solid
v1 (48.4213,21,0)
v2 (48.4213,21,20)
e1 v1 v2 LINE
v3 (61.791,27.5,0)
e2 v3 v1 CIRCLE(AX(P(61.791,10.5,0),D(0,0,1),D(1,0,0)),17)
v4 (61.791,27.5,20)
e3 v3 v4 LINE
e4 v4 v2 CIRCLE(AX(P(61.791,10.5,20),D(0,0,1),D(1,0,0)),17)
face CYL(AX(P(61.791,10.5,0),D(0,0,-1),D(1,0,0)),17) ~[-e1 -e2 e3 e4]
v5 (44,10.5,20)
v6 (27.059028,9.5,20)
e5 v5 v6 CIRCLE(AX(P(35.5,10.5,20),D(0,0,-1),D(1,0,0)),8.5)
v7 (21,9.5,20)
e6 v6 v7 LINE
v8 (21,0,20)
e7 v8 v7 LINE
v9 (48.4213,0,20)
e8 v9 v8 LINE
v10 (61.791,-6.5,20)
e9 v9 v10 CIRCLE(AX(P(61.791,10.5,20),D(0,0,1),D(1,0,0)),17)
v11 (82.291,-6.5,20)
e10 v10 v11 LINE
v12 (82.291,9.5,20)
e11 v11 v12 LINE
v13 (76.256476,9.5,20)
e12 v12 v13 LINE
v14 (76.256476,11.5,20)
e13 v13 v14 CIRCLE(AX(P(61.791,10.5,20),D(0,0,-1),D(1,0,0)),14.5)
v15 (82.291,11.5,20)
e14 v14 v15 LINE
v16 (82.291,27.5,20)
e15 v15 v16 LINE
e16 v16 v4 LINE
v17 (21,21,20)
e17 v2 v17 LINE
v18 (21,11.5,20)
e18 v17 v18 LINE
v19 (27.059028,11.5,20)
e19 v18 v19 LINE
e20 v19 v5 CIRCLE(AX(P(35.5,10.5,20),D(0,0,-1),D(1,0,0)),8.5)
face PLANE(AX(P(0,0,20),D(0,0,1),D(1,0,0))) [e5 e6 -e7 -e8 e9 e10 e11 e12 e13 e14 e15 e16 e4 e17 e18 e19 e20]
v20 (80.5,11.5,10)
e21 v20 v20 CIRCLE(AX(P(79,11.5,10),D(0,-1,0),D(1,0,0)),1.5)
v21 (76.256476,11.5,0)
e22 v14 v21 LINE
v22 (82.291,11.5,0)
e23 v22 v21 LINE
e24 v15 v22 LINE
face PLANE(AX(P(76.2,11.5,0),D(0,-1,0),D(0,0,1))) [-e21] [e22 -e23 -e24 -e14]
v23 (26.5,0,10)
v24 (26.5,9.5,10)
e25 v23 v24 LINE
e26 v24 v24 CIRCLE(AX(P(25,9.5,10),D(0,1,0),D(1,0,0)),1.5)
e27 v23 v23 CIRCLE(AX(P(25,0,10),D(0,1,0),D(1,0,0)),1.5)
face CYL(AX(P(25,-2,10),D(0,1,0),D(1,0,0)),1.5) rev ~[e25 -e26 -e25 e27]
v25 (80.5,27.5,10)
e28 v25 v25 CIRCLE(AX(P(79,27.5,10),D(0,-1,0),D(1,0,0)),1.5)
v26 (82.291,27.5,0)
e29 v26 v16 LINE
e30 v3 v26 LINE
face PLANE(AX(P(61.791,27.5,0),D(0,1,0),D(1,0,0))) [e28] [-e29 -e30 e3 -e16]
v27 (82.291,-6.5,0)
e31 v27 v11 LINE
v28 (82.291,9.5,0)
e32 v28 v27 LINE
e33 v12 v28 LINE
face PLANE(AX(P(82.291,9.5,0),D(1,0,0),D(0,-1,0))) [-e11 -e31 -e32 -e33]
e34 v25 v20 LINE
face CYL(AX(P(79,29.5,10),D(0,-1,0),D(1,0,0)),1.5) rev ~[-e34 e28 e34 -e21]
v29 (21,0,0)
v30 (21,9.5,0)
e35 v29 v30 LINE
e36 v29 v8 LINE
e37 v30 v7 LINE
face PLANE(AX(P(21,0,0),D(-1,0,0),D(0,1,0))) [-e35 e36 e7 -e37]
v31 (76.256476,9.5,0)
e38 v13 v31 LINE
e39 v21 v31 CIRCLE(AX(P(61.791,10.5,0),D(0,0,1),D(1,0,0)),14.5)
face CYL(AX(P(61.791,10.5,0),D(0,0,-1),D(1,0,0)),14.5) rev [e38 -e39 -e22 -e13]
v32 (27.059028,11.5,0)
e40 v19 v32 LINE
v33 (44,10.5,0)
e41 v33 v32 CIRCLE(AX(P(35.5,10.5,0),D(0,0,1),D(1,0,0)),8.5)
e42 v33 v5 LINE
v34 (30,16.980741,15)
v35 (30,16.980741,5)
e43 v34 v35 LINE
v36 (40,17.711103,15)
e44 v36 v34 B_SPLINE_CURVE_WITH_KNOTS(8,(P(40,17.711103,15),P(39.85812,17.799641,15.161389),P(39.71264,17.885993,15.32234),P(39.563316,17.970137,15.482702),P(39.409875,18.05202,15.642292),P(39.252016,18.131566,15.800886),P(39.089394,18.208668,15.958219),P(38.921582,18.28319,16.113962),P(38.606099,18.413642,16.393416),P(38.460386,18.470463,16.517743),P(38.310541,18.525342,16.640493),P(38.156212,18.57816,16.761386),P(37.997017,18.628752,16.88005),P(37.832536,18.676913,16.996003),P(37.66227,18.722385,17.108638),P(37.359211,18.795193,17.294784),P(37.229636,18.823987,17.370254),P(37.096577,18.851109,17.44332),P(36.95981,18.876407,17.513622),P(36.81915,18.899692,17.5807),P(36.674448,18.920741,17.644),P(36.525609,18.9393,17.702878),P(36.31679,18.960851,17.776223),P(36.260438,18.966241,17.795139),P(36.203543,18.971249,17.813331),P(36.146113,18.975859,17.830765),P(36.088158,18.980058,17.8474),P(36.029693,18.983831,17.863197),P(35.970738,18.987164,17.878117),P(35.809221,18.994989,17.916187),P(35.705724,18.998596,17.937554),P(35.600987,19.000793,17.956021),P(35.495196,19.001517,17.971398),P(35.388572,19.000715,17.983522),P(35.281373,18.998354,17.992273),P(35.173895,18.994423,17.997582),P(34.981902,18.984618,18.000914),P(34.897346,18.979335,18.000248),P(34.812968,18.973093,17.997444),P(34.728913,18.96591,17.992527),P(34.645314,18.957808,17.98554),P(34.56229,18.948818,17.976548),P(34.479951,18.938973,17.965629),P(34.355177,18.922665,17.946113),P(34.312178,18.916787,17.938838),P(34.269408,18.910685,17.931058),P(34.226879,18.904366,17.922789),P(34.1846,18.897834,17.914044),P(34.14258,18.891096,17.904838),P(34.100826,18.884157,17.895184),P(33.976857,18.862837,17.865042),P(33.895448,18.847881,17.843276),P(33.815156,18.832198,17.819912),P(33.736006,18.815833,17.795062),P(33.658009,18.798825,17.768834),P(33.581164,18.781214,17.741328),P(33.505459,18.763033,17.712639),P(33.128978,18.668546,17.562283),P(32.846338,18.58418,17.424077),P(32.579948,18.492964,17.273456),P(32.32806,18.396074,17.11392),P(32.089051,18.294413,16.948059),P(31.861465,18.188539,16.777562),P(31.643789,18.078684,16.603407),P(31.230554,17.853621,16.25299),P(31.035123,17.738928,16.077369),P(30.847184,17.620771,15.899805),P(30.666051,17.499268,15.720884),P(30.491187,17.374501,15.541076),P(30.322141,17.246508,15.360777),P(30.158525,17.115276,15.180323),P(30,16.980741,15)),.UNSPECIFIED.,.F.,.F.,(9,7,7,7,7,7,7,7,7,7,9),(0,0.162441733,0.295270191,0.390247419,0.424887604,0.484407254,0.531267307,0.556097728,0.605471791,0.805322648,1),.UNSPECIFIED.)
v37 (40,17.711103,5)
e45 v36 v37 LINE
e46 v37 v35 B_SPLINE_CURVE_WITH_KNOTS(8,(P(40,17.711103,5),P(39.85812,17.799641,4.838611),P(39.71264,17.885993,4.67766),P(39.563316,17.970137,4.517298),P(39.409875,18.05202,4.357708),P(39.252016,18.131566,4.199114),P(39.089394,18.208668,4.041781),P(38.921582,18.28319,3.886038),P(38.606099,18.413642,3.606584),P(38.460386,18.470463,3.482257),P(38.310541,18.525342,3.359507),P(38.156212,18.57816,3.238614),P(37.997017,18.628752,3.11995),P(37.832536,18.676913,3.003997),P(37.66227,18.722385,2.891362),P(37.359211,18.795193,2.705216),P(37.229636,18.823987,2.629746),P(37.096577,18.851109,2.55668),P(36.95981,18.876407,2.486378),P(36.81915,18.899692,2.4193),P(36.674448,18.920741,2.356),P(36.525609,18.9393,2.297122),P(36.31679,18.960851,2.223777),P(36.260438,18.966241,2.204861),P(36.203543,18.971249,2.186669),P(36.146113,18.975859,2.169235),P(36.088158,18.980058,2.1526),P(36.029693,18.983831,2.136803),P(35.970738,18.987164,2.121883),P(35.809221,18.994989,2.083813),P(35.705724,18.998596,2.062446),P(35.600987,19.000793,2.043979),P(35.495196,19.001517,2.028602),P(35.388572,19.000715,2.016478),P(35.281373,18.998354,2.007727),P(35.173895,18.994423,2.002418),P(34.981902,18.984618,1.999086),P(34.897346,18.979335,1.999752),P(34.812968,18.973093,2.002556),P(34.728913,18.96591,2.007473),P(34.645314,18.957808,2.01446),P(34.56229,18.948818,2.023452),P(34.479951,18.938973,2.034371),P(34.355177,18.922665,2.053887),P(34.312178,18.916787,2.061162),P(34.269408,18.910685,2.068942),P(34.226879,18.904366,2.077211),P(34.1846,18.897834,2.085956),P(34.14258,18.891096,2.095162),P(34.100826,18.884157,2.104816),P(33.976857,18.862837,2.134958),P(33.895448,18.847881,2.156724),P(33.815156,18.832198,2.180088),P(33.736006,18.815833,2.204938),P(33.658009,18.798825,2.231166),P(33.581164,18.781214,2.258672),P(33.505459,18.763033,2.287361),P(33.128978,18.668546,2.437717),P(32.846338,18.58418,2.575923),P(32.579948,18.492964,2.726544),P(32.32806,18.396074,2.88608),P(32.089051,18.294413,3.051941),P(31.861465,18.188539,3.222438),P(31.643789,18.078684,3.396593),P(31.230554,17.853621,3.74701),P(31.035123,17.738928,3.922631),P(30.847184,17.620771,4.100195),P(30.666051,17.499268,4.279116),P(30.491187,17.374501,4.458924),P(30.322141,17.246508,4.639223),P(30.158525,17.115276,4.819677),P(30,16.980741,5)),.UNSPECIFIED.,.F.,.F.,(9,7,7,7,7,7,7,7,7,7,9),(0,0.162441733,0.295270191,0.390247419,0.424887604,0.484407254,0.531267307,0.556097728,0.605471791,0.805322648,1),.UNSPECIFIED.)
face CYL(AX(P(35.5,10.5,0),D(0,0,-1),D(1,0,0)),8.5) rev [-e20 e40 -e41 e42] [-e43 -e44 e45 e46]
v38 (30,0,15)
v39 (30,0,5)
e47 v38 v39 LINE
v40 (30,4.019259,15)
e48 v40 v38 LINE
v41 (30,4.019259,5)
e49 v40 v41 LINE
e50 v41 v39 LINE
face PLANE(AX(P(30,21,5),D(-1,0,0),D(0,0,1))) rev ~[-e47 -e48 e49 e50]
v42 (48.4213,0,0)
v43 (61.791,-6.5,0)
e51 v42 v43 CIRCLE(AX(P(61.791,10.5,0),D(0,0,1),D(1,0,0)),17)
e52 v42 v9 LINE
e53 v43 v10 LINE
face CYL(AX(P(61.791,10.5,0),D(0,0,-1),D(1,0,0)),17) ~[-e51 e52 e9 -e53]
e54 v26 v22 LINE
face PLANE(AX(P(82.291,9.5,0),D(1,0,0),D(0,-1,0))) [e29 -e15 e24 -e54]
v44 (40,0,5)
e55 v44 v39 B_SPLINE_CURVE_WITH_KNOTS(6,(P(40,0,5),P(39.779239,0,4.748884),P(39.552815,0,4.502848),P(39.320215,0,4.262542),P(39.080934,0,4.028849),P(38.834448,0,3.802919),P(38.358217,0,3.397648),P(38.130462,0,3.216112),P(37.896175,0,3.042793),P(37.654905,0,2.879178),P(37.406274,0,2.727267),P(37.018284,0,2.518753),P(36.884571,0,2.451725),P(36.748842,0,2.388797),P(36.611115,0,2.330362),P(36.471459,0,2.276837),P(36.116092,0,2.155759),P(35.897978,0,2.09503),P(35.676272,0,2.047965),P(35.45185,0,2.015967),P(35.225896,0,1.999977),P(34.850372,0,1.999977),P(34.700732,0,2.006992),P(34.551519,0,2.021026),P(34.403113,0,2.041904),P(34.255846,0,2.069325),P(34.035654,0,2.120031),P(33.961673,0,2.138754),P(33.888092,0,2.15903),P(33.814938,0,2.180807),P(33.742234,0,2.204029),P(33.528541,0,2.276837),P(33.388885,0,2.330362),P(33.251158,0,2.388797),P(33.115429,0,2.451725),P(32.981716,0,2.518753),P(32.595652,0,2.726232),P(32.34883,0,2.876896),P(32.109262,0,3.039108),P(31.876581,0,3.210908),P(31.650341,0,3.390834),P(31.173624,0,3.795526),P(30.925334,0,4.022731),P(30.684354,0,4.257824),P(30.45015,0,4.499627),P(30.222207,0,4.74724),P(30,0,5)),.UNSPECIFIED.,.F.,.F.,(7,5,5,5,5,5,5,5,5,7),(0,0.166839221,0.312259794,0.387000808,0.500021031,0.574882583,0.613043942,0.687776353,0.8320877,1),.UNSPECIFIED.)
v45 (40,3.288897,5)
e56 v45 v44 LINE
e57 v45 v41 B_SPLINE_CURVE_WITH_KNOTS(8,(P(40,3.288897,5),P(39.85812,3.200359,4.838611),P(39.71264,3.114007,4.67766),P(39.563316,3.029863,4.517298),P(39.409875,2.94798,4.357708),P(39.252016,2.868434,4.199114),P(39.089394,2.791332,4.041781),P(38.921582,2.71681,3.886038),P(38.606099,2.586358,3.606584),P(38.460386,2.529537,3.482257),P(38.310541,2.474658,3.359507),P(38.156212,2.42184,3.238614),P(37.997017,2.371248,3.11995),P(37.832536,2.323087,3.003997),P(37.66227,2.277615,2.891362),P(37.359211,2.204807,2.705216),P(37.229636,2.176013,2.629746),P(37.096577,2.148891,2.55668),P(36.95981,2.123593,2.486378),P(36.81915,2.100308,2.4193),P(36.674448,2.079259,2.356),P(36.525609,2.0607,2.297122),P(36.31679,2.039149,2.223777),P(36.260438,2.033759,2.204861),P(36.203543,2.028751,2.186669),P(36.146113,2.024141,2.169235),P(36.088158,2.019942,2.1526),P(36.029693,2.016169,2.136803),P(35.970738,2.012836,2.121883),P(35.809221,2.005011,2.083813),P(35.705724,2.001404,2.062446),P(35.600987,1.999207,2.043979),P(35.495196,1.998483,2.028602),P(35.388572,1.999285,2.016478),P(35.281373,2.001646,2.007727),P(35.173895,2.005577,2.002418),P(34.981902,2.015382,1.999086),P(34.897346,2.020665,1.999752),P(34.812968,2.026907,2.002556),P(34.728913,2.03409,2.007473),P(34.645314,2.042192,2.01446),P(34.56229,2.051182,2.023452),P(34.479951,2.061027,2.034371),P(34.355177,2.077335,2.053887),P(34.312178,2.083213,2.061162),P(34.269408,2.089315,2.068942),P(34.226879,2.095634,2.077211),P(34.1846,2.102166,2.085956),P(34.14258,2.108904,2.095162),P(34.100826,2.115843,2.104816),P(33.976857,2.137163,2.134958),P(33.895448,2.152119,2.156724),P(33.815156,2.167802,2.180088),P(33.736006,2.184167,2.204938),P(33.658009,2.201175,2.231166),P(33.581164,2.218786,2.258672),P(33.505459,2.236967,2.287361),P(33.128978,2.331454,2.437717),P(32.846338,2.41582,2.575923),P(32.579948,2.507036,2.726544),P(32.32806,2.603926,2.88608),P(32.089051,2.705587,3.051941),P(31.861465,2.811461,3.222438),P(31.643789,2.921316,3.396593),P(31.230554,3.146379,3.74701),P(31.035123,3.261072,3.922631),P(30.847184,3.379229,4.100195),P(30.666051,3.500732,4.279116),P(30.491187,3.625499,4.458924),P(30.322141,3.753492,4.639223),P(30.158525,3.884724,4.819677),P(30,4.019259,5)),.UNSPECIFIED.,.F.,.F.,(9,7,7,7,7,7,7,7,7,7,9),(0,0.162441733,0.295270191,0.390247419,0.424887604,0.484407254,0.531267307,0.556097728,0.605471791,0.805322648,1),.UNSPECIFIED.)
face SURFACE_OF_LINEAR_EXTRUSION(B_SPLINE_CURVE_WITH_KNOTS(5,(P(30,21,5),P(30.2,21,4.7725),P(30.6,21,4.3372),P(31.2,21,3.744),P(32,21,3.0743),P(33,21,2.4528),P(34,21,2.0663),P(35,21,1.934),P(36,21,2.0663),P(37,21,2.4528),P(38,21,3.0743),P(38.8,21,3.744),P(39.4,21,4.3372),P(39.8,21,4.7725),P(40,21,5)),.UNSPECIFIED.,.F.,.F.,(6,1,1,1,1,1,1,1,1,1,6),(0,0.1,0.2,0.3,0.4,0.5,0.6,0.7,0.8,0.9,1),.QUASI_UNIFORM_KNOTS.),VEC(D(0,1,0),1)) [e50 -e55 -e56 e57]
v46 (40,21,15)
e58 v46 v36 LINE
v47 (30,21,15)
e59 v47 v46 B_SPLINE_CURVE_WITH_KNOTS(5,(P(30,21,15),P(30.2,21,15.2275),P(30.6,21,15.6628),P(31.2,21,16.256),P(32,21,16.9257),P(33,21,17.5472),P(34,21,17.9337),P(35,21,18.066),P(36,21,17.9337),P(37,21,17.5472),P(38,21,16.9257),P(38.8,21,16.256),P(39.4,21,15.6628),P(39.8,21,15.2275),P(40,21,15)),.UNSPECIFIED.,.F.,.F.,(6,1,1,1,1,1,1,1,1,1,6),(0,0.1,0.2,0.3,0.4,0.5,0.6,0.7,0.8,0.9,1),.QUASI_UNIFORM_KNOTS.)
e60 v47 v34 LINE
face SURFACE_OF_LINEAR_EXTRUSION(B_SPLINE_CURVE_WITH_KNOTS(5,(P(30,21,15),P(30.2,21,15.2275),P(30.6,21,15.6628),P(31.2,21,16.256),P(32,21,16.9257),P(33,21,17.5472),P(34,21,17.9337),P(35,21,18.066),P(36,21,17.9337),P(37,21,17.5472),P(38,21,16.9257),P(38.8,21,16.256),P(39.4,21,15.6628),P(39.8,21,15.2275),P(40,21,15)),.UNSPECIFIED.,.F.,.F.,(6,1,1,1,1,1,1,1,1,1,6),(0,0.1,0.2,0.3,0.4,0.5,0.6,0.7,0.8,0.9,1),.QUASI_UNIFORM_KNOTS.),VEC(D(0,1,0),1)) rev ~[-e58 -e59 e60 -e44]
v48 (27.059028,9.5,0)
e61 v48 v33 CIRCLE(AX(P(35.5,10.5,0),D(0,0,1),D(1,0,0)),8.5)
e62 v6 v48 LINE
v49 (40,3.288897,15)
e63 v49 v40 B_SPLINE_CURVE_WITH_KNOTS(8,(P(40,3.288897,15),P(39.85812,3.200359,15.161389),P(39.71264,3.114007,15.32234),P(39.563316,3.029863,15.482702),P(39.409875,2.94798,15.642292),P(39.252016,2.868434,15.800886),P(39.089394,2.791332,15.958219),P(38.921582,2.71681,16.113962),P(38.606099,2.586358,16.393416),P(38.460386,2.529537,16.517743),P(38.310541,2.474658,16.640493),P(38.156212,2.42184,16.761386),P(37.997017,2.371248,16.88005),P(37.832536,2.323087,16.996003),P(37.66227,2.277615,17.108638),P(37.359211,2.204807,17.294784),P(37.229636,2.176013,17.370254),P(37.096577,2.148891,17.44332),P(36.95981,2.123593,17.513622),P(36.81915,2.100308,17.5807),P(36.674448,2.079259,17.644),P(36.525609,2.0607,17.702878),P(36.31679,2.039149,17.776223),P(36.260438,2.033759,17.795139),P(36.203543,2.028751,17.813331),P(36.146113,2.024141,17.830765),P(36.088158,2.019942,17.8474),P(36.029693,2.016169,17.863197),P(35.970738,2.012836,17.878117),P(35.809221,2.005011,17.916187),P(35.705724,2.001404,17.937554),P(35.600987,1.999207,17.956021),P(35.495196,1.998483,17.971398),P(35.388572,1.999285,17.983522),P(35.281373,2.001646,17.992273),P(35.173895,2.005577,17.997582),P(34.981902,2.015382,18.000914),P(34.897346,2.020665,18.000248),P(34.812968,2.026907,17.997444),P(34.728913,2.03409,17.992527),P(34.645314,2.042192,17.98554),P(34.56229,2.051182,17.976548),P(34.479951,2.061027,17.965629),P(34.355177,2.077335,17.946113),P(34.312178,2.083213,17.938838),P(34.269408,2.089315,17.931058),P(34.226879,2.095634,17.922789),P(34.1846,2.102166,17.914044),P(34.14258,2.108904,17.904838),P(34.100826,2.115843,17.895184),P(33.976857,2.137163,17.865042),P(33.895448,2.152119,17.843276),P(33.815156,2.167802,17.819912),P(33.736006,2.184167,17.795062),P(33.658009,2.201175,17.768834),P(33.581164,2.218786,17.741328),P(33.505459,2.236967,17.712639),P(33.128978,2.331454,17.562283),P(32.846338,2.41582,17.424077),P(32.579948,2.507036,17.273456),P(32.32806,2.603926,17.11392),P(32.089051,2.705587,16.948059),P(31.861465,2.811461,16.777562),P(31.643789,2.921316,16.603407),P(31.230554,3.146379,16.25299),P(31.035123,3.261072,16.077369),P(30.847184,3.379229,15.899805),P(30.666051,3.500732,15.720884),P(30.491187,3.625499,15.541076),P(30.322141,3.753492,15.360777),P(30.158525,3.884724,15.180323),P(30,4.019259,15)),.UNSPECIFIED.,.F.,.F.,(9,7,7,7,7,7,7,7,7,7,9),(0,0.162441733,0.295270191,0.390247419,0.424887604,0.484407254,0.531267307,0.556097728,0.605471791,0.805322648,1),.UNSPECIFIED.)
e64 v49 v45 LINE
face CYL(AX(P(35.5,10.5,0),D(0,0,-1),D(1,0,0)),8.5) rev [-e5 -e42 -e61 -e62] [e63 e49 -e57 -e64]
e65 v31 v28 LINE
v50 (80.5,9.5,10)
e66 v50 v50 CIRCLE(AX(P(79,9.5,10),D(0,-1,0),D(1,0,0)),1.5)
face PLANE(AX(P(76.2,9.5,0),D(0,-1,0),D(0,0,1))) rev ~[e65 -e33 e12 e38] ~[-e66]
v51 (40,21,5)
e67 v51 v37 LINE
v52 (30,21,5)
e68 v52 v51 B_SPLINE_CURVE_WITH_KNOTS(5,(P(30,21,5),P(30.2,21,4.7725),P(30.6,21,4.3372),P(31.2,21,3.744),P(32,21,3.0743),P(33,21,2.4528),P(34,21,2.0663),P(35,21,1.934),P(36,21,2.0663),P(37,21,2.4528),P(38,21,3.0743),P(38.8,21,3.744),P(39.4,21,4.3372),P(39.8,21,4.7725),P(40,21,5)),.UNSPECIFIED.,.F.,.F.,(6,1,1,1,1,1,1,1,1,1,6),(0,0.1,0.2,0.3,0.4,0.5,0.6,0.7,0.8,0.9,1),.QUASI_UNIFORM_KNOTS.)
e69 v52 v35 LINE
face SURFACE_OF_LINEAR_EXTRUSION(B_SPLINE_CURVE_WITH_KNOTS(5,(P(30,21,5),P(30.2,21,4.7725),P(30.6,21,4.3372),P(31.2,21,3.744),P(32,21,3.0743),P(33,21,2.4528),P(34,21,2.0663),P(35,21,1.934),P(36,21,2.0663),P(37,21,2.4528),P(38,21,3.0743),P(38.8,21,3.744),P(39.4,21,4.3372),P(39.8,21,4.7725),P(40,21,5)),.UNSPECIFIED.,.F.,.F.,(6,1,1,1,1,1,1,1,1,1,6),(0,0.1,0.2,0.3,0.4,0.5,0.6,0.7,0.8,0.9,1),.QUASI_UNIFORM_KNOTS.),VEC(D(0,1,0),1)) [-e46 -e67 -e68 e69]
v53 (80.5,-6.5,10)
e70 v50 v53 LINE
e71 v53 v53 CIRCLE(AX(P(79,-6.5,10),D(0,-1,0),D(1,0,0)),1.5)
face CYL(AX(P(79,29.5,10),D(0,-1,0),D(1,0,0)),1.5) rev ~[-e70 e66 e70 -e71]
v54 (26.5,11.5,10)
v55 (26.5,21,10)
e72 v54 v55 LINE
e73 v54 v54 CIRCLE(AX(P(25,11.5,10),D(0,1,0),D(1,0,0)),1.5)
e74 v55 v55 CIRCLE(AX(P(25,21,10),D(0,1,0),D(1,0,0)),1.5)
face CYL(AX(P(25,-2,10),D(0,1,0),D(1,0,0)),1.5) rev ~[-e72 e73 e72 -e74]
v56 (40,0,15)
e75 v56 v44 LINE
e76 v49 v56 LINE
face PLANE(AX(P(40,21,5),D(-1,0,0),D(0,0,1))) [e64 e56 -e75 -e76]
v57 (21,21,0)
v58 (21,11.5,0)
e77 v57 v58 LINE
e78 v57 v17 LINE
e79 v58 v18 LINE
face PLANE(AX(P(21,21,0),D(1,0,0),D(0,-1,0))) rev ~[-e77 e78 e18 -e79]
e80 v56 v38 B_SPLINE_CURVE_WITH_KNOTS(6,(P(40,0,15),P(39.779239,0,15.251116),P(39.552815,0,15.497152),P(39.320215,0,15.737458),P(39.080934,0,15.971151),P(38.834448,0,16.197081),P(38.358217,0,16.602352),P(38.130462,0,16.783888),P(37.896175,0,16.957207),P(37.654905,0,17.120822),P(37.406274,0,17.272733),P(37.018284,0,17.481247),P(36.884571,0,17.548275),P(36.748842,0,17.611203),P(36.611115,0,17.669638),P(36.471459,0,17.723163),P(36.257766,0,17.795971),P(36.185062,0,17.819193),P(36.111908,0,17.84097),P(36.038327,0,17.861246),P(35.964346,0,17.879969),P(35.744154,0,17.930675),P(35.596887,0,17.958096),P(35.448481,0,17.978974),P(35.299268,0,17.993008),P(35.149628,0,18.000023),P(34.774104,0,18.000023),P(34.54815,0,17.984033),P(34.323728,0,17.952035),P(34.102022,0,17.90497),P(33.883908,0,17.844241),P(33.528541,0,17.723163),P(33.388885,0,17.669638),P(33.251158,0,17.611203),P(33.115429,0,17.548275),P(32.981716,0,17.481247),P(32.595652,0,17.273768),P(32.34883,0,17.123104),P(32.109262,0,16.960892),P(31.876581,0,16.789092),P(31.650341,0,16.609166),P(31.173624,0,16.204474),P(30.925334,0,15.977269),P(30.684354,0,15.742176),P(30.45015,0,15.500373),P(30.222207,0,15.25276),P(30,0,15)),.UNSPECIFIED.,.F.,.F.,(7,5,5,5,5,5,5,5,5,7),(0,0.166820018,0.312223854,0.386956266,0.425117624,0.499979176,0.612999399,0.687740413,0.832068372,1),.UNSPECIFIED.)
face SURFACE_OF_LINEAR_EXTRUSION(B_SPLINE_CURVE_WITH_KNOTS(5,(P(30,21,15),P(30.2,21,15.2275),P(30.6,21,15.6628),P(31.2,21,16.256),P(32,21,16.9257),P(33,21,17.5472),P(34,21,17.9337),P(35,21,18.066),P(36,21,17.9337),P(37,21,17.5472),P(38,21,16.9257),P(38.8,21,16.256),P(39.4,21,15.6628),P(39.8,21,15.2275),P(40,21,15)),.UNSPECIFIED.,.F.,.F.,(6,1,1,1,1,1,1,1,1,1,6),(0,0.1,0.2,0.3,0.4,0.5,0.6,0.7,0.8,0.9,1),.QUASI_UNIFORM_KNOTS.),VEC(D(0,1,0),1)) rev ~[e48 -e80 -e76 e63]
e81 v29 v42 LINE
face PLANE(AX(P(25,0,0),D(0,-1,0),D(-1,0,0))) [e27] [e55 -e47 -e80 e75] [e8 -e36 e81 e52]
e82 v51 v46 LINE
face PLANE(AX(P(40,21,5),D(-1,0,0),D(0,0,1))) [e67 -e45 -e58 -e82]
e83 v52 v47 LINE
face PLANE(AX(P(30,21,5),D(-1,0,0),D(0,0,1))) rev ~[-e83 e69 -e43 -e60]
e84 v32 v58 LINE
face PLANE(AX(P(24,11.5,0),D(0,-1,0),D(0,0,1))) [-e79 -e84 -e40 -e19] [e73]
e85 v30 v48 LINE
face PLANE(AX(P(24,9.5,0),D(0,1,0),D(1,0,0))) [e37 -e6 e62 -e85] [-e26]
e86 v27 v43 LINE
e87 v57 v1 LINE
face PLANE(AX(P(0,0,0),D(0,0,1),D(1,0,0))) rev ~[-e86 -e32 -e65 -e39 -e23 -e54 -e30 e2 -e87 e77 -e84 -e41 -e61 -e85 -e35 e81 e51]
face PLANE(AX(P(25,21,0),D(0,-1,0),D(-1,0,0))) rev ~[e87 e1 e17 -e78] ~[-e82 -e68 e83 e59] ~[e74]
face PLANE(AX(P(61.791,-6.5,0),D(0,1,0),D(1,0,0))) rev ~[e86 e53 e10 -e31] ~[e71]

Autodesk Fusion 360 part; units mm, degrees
sketch "Sketch1" plane through (0, 0, 0) normal (0, 0, 1) x (1, 0, 0)
  line L0 (25, 0) -> (25, 21)
  line L1 (25, 21) -> (46, 21)
  line L2 (46, 21) -> (46, 0)
  line L3 (46, 0) -> (25, 0)
  line L4 (35.5, 21) -> (35.5, 19)
  line L5 (35.5, 0) -> (35.5, 2)
  line L6 (25, 10.5) -> (28, 10.5)
  line L7 (25, 19) -> (35.5, 19)
  line L8 (25, 2) -> (35.5, 2)
  line L9 (28, 21) -> (28, 0)
  line L10 (35.5, 19) -> (35.5, 2)
  line L11 (28, 10.5) -> (35.5, 10.5)
  circle A0 centre (35.5, 10.5) radius 8.5
  line L12 (44, 10.5) -> (47.291, 10.5)
  line L13 (47.291, 10.5) -> (61.791, 10.5)
  circle A1 centre (61.791, 10.5) radius 14.5
  circle A2 centre (61.791, 10.5) radius 17
  line L14 (46, 21) -> (48.4213, 21)
  line L15 (46, 0) -> (48.4213, 0)
  line L16 (61.791, 10.5) -> (61.791, 27.5)
  line L17 (61.791, 10.5) -> (61.791, -6.5)
  line L18 (61.791, -6.5) -> (79.291, -6.5)
  line L19 (61.791, 27.5) -> (79.291, 27.5)
  line L20 (79.291, 27.5) -> (79.291, -6.5)
  line L21 (79.291, 27.5) -> (76.291, 27.5)
  line L22 (76.291, 27.5) -> (76.291, 11.5)
  line L23 (76.291, 11.5) -> (79.291, 11.5)
  line L24 (76.291, -6.5) -> (76.291, 9.5)
  line L25 (76.291, 9.5) -> (79.291, 9.5)
  line L26 (27, 10.5) -> (24, 10.5)
  line L27 (25, 21) -> (24, 21)
  line L28 (24, 21) -> (24, 11.5)
  line L29 (24, 11.5) -> (25, 11.5)
  line L30 (24, 0) -> (24, 9.5)
  line L31 (24, 9.5) -> (25, 9.5)
  line L32 (25, 0) -> (24, 0)
  dimension "d1" = 21
  dimension "d2" = 21
  dimension "d4" = 3
  dimension "d5" = 17
  dimension "d6" = 3.291
  dimension "d7" = 14.5
  dimension "d8" = 34
  dimension "d9" = 17.5
  dimension "d10" = 17.5
  dimension "d11" = 3
  dimension "d12" = 16
  dimension "d13" = 16
  dimension "d14" = 9.5
  dimension "d15" = 9.5
extrude "Extrude1" add sketch "Sketch1" along normal blind 20
extrude "Extrude2" cut sketch "Sketch1" along normal blind 24 contours L9 L10 L11 A0 | L10 A0 | L6 L9 A0 | L6 L9 A0 | L9 L10 L11 A0 | L13 A1 L16 | L13 A1 L17 | A1 L16 L17
box "BoxPrimitive1" cut length 2 width 3.1 height 22 placed x (0, -1, 0) y (1, 0, 0) z (0, 0, 1) at (76.2, 11.5, 0)
box "BoxPrimitive2" cut length 2 width 3.5 height 21 placed x (0, -1, 0) y (1, 0, 0) z (0, 0, 1) at (24, 11.5, 0)
sketch "Sketch8" plane through (0, 21, 0) normal (0, 1, 0) x (-1, 0, 0)
  line L0 (-48.4213, 0) -> (-24, 0)
  line L1 (-24, 0) -> (-24, 20)
  line L2 (-24, 20) -> (-48.4213, 20)
  line L3 (-48.4213, 20) -> (-48.4213, 0)
  line L4 (-30, 5) -> (-30, 15)
  line L5 (-40, 5) -> (-40, 15)
  spline S0 degree 5 poles (-30, 5) (-30.2, 4.7725) (-30.6, 4.3372) (-31.2, 3.744) (-32, 3.0743) (-33, 2.4528) (-34, 2.0663) (-35, 1.934) (-36, 2.0663) (-37, 2.4528) (-38, 3.0743) (-38.8, 3.744) (-39.4, 4.3372) (-39.8, 4.7725) (-40, 5) knots 0 0 0 0 0 0 0.1 0.2 0.3 0.4 0.5 0.6 0.7 0.8 0.9 1 1 1 1 1 1
  spline S1 degree 5 poles (-30, 15) (-30.2, 15.2275) (-30.6, 15.6628) (-31.2, 16.256) (-32, 16.9257) (-33, 17.5472) (-34, 17.9337) (-35, 18.066) (-36, 17.9337) (-37, 17.5472) (-38, 16.9257) (-38.8, 16.256) (-39.4, 15.6628) (-39.8, 15.2275) (-40, 15) knots 0 0 0 0 0 0 0.1 0.2 0.3 0.4 0.5 0.6 0.7 0.8 0.9 1 1 1 1 1 1
  point P0 (-35, 2)
  point P1 (-35, 18)
extrude "Extrude3" add 2 faces at (24, 14.6667, 13.3333) (24, 3.1667, 6.6667) along direction (-1, 0, 0) blind 3
cylinder "CylinderPrimitive3" cut diameter 3 height -23 placed x (1, 0, 0) y (0, 0, -1) z (0, 1, 0) at (25, 21, 10)
extrude "Extrude4" cut sketch "Sketch8" against normal blind 24 contours L4 L5 S0 S1
extrude "Extrude5" add 2 faces at (79.291, 4.1667, 6.6667) (79.291, 22.1667, 6.6667) along direction (1, 0, 0) blind 3
cylinder "CylinderPrimitive4" cut diameter 3 height -36 placed x (1, 0, 0) y (0, 0, 1) z (0, -1, 0) at (79, -6.5, 10)
